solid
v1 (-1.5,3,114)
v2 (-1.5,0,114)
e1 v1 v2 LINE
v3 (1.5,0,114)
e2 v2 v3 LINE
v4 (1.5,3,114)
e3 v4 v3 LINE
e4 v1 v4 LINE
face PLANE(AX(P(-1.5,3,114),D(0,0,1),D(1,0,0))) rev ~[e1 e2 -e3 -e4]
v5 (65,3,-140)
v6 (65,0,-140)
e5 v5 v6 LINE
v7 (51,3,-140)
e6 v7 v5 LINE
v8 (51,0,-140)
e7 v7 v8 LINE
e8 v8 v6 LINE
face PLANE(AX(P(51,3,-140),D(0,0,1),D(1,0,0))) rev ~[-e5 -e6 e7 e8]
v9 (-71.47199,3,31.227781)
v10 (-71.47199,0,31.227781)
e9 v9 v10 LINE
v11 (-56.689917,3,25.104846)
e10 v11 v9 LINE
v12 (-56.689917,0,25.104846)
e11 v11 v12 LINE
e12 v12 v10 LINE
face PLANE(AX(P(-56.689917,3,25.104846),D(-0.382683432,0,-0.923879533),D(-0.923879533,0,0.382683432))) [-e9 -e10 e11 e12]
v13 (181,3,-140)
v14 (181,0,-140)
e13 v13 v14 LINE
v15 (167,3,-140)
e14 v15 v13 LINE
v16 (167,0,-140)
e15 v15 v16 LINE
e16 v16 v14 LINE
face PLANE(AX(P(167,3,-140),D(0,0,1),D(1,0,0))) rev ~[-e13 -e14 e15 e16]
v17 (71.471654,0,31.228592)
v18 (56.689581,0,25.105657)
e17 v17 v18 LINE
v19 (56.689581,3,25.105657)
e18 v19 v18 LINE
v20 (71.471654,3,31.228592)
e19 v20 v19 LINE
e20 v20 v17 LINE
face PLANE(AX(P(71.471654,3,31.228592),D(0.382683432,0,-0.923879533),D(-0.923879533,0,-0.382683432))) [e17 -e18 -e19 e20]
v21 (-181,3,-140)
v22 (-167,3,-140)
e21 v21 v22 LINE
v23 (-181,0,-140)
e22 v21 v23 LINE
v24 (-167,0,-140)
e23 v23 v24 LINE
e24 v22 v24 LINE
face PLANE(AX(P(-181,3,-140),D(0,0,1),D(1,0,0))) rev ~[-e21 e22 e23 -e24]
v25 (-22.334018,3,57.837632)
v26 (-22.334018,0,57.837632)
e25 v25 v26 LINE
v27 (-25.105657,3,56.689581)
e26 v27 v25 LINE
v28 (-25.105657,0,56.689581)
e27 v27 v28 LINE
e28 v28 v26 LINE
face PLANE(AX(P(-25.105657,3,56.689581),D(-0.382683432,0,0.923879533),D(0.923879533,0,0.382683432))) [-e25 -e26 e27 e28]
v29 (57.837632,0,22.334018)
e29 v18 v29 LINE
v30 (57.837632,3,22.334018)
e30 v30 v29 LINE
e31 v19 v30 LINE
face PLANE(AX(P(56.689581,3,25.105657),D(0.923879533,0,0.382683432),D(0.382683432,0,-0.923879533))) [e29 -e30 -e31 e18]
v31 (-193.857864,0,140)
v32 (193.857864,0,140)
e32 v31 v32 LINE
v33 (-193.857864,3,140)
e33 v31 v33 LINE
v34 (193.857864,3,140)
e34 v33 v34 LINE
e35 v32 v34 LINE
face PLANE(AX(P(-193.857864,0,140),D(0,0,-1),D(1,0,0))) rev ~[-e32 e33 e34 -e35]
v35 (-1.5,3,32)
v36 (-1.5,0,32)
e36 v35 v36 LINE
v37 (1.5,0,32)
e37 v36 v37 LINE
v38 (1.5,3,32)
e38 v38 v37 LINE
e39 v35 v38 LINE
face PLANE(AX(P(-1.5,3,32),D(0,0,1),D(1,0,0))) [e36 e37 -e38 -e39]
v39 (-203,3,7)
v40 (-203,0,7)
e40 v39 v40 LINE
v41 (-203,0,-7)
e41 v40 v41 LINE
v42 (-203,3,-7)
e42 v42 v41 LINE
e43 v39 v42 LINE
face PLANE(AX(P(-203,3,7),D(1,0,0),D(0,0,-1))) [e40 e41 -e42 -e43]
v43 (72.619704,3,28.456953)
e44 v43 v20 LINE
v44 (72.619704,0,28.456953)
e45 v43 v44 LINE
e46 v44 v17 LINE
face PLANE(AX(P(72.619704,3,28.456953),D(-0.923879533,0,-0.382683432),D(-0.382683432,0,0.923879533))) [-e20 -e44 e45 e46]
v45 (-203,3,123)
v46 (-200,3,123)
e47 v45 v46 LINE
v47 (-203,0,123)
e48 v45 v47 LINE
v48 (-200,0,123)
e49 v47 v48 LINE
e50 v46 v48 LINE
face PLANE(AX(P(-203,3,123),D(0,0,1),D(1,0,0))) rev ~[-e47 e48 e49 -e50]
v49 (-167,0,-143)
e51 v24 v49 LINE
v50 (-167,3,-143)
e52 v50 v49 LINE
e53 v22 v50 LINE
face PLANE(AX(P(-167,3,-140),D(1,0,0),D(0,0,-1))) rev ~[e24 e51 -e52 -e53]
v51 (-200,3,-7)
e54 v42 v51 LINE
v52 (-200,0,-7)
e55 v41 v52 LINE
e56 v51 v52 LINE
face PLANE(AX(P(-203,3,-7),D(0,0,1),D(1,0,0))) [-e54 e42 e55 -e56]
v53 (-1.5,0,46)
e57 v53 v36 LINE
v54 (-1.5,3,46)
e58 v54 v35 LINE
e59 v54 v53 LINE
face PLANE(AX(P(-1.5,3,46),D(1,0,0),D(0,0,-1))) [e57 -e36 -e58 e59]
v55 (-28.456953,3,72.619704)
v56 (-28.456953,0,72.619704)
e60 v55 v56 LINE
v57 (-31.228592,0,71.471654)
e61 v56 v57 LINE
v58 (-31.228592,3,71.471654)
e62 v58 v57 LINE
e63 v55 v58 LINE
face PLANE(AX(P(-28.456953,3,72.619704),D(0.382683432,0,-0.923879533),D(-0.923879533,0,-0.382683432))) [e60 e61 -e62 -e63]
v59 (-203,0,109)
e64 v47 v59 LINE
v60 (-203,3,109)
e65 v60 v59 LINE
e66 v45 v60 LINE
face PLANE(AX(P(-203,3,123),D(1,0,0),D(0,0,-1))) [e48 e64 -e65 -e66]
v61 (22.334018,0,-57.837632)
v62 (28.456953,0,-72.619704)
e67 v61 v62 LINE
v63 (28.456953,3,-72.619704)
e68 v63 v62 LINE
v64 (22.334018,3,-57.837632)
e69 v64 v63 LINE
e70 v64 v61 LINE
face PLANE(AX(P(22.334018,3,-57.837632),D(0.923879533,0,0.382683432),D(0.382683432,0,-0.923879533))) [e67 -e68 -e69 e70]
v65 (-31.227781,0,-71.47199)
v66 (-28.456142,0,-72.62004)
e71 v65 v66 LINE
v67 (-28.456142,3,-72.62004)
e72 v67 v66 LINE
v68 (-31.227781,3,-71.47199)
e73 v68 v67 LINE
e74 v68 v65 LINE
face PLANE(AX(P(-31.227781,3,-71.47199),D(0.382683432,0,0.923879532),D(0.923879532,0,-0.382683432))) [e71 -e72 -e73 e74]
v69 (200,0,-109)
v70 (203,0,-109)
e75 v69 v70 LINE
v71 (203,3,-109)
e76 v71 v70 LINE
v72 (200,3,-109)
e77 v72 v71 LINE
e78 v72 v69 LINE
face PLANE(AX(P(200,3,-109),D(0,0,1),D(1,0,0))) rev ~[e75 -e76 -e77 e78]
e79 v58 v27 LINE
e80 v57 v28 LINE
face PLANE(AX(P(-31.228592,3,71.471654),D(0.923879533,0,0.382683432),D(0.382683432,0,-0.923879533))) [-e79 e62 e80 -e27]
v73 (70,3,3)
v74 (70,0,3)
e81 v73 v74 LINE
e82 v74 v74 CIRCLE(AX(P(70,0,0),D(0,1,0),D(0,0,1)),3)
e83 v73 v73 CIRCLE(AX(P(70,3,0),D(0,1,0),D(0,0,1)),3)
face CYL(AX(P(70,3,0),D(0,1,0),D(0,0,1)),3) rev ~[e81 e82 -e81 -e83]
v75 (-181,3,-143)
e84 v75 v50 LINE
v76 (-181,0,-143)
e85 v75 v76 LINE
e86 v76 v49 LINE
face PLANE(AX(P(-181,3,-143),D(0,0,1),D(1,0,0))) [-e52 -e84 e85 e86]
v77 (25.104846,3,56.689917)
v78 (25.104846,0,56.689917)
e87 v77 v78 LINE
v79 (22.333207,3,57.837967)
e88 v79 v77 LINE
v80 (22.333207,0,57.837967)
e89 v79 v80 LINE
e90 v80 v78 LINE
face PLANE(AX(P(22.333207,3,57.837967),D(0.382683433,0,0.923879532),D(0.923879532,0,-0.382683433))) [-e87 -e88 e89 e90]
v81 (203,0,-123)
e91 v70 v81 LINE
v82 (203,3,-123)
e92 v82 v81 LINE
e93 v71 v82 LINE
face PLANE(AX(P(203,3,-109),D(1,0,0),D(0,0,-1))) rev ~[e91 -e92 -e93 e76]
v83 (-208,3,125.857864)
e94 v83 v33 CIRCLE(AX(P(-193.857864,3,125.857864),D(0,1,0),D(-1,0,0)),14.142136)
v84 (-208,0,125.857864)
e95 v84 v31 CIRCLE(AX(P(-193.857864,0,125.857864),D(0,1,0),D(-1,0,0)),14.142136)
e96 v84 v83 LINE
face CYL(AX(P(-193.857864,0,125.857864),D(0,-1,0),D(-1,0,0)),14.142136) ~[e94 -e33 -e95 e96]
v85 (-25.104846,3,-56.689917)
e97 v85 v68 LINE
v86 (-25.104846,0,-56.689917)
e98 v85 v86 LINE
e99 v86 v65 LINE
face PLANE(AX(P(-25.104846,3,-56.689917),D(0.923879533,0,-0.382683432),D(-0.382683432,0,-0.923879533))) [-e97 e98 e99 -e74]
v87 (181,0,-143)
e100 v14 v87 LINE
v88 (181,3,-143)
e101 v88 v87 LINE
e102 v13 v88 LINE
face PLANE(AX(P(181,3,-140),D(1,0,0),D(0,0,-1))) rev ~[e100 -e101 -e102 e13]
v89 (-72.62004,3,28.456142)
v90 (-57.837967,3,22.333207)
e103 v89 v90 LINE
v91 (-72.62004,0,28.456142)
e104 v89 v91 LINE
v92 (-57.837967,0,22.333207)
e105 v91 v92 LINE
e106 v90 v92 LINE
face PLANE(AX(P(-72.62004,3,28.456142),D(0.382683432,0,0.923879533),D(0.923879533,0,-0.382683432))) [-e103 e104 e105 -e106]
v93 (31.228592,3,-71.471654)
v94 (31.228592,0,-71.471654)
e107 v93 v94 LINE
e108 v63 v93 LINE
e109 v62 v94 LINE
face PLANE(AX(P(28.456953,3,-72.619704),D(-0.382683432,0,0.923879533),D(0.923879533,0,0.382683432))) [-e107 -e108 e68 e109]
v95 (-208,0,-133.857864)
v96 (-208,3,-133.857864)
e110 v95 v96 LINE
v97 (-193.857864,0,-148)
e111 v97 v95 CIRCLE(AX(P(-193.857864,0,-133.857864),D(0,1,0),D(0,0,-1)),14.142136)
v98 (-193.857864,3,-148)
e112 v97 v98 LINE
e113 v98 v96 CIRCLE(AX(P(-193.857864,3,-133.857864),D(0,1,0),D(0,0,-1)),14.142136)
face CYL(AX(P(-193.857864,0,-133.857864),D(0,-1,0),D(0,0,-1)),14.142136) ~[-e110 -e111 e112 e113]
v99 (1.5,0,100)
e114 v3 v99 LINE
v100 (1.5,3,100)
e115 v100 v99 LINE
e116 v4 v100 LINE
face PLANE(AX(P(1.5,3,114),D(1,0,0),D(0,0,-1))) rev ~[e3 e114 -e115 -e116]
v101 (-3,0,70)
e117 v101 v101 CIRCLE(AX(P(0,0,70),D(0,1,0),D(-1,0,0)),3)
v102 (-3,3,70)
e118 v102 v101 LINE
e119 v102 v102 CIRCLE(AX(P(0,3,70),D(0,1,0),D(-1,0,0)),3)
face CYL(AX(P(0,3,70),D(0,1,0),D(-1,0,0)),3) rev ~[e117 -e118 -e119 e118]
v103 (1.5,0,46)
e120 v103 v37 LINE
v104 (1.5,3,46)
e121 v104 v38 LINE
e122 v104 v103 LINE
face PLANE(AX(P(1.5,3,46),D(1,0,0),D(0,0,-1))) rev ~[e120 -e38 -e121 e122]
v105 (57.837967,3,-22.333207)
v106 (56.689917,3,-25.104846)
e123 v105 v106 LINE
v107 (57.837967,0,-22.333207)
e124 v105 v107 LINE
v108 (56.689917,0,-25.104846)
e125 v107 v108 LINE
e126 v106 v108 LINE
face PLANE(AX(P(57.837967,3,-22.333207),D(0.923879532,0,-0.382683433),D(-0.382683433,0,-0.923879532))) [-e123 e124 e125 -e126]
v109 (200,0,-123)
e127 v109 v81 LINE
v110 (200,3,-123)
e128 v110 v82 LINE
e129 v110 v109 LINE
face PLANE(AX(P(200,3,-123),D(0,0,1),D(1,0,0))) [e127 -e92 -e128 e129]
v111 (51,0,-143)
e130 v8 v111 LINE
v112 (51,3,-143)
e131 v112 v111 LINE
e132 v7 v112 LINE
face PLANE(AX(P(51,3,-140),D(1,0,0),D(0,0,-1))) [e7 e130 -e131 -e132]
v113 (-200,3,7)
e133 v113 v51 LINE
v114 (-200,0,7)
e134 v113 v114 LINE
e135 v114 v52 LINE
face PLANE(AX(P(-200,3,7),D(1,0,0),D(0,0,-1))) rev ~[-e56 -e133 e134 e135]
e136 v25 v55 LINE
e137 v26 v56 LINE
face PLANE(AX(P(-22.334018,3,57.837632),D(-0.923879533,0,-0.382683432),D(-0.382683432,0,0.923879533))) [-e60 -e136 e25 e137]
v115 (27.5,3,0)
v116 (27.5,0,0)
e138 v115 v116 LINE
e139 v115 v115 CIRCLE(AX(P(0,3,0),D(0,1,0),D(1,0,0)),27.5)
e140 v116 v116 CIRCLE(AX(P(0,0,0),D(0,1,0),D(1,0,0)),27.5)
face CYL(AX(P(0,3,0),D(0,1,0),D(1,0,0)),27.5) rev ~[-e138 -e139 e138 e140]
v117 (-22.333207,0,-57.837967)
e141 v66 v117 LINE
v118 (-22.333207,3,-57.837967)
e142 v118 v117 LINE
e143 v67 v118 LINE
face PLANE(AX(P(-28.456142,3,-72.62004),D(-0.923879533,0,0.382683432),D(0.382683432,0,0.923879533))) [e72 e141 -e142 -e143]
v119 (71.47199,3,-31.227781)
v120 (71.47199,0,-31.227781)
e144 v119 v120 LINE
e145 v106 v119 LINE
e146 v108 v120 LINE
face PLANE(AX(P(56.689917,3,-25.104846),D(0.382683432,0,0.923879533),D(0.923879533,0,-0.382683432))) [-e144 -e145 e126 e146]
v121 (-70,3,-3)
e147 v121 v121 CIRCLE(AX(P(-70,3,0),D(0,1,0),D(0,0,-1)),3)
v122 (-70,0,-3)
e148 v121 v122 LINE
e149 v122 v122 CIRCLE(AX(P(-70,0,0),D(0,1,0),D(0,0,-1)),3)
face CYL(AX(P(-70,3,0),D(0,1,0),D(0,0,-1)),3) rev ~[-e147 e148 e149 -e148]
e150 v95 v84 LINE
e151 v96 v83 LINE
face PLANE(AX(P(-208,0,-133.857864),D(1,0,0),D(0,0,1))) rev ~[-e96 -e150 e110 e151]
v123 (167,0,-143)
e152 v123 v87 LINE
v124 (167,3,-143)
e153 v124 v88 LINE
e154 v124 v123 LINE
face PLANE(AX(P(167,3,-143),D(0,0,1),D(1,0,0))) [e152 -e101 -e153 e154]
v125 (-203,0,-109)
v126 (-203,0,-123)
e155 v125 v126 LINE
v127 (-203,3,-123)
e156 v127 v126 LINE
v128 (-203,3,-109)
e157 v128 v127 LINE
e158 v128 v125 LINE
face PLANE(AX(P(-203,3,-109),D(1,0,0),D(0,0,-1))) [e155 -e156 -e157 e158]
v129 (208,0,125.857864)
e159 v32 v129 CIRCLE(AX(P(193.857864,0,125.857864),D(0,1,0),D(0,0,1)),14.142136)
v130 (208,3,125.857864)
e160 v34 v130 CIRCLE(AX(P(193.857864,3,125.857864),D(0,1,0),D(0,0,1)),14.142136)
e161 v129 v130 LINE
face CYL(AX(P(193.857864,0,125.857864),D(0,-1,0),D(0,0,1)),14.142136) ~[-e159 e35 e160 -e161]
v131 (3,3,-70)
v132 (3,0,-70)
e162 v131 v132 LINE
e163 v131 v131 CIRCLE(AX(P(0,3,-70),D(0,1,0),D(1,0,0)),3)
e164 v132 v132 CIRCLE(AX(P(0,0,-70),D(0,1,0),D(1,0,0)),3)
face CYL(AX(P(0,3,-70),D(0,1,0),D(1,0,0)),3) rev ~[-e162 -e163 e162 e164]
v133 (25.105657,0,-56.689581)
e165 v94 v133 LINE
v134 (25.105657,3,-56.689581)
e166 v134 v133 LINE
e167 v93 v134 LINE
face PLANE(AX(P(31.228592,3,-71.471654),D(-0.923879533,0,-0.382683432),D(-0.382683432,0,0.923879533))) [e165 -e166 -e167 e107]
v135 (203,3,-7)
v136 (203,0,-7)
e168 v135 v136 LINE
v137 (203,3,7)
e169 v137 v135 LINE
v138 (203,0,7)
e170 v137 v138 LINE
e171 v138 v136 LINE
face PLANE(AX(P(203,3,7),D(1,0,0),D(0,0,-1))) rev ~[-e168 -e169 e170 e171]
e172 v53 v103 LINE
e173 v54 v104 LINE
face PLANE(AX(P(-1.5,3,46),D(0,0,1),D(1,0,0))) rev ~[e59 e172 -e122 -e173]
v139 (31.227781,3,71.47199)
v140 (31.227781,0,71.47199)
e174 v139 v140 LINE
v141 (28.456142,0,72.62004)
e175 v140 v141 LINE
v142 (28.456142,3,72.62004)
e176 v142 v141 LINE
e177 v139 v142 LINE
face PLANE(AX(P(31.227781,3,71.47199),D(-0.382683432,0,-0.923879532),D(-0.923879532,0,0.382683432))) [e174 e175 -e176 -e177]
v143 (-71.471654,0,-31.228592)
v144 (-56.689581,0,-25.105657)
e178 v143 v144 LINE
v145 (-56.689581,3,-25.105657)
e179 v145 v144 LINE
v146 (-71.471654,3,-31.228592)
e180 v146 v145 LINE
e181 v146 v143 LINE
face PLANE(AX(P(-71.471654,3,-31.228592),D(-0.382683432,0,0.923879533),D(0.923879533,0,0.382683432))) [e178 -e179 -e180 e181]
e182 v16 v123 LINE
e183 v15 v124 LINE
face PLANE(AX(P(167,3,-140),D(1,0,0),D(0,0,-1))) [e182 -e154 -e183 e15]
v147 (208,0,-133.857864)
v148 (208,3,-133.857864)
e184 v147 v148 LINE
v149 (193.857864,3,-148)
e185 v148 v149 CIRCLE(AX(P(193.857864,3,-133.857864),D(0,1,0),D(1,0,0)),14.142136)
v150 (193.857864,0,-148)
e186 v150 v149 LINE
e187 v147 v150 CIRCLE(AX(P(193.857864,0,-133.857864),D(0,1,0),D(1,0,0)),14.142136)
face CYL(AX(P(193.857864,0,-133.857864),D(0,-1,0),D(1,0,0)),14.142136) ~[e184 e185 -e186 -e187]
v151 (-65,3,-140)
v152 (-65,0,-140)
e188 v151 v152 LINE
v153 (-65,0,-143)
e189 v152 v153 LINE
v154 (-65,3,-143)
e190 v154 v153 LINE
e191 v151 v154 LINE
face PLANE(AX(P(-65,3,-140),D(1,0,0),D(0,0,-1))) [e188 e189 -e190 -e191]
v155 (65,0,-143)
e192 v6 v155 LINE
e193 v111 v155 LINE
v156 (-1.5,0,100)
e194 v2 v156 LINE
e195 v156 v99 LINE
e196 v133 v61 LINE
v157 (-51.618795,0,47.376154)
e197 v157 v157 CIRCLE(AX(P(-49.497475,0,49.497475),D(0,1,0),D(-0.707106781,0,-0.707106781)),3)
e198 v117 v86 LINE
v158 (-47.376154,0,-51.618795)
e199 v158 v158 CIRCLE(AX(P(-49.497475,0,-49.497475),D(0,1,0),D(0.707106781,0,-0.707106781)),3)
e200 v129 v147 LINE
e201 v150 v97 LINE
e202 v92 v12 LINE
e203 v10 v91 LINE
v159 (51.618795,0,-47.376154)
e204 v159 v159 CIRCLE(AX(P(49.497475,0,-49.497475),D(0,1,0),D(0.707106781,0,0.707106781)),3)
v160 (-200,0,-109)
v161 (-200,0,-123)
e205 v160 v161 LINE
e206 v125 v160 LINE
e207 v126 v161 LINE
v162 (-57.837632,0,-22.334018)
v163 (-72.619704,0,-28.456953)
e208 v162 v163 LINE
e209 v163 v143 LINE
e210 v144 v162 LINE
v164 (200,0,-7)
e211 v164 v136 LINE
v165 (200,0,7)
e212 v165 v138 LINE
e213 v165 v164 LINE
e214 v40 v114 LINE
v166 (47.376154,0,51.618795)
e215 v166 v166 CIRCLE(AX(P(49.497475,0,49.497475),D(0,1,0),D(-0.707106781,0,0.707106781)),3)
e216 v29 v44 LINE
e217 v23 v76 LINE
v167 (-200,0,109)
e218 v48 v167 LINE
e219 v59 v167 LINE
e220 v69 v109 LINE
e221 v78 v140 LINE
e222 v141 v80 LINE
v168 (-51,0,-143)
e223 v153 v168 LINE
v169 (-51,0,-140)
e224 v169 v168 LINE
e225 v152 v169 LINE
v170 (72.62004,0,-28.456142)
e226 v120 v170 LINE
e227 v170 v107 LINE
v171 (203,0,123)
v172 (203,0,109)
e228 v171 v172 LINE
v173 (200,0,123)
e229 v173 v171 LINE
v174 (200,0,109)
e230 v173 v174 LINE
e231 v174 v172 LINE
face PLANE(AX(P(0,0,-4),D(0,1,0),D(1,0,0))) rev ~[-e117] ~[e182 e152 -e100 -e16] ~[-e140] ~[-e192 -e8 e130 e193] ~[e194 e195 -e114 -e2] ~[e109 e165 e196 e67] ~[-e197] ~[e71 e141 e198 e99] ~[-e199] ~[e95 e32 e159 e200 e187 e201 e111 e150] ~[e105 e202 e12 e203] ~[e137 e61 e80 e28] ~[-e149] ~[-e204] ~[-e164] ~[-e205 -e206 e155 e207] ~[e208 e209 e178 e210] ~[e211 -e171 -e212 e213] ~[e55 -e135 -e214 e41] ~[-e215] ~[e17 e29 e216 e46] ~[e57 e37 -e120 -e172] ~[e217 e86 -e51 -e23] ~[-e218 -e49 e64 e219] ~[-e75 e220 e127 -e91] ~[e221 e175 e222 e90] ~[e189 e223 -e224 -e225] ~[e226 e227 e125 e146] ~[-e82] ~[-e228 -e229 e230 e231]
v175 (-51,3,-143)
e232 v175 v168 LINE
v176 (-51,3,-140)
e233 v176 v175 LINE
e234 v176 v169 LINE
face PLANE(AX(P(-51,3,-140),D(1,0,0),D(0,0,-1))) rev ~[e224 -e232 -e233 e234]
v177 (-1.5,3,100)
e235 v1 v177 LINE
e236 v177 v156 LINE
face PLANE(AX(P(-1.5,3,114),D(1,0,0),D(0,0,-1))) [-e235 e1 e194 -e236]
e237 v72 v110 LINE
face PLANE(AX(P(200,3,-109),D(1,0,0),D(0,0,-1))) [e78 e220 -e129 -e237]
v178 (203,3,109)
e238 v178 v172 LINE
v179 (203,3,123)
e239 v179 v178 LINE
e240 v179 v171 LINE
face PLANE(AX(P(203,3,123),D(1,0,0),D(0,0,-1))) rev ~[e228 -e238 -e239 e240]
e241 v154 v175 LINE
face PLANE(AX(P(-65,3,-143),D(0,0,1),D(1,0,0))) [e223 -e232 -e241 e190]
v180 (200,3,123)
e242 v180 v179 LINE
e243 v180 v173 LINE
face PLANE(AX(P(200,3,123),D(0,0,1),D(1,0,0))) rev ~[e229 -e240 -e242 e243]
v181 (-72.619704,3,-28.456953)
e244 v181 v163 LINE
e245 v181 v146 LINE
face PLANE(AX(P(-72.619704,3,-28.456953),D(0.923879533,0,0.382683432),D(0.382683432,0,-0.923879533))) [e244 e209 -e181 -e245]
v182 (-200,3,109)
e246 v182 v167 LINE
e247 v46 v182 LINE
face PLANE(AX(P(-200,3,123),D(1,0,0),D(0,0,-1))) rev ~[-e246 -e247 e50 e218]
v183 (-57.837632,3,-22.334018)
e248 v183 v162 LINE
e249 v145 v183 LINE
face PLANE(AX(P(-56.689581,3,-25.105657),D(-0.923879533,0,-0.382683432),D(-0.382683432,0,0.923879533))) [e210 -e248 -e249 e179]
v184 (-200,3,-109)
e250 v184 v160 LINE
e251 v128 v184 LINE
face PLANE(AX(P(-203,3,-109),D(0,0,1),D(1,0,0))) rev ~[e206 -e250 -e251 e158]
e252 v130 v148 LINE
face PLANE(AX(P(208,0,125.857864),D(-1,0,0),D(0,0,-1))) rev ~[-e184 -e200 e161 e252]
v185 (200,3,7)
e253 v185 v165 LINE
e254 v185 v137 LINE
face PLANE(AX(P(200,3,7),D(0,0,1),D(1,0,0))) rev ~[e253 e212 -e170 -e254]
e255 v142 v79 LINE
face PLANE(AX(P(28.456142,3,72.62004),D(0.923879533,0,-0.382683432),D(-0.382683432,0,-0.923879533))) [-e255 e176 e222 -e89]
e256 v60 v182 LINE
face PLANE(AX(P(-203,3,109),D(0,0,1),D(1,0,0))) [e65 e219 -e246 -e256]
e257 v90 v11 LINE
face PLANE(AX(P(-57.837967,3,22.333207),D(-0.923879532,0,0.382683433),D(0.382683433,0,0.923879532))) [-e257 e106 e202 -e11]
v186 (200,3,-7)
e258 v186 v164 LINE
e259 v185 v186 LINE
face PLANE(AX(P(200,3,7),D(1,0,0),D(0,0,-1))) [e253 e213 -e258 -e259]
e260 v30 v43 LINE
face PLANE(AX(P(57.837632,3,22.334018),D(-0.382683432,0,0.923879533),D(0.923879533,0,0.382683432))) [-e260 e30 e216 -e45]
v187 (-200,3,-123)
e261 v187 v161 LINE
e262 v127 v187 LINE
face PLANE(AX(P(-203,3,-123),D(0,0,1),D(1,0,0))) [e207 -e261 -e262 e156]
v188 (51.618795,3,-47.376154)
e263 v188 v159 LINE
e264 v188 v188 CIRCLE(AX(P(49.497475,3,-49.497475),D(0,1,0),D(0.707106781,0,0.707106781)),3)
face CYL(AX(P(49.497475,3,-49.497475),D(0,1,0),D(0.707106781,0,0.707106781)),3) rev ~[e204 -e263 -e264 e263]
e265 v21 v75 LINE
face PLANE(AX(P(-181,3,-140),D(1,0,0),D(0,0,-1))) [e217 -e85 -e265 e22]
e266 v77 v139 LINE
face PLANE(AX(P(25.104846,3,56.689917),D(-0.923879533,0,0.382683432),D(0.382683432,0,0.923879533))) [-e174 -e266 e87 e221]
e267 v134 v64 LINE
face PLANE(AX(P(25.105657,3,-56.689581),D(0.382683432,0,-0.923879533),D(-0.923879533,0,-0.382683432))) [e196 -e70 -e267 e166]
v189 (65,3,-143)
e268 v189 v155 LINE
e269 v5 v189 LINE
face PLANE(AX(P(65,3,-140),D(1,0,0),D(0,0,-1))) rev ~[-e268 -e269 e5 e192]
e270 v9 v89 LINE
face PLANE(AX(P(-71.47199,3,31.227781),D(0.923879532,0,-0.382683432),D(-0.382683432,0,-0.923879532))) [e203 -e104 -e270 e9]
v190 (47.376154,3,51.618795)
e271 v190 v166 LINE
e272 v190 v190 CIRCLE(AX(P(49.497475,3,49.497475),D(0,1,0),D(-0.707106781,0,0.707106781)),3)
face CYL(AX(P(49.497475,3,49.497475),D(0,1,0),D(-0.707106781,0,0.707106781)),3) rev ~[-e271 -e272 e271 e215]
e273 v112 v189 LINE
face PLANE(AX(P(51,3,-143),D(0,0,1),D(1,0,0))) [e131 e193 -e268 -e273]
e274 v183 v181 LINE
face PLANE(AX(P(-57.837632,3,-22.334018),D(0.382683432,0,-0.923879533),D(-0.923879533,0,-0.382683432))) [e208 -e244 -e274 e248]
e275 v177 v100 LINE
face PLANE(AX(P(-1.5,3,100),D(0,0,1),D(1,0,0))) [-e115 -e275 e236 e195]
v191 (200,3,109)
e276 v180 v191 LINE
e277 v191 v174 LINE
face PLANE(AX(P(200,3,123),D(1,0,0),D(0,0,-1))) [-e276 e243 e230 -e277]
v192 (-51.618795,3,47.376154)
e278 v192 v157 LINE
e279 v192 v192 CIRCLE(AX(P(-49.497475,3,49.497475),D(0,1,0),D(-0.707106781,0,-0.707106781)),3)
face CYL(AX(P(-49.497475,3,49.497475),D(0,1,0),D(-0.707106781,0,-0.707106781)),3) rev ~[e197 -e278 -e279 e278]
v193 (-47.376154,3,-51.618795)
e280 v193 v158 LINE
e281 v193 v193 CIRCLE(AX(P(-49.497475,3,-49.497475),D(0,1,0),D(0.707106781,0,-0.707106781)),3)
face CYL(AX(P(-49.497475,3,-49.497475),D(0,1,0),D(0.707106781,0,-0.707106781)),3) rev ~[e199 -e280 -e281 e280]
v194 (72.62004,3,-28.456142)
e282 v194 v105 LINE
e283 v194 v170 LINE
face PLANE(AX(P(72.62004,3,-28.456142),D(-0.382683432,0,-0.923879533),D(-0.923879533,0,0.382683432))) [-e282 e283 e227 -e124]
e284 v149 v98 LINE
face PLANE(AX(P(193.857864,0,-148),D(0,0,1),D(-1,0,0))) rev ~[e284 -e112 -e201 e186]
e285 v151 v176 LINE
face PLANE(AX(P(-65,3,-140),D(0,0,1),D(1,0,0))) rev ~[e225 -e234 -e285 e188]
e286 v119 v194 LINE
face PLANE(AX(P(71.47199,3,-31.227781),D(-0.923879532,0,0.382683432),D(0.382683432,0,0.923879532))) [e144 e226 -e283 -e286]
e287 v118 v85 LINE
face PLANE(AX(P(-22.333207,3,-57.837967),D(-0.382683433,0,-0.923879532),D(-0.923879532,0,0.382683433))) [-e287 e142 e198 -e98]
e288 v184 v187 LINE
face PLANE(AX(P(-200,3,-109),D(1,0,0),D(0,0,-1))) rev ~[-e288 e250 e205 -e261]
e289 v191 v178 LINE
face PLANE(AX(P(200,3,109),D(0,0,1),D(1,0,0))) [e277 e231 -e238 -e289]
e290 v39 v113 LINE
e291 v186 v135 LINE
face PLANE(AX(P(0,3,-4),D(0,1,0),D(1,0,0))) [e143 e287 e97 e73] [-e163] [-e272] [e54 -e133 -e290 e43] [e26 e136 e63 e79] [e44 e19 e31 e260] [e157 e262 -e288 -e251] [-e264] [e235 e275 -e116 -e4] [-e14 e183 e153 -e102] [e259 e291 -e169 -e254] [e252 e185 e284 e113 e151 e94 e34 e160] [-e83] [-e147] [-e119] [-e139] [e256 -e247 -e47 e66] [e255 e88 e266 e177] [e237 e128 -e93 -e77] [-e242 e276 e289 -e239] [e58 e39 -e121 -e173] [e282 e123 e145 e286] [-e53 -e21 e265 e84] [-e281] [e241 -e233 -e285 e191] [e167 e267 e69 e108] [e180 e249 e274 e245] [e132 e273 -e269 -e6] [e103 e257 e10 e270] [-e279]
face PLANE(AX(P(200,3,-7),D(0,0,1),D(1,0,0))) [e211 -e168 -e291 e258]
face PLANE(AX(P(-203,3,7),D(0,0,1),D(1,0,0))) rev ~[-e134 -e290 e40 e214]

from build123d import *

# Parameters (mm, degrees)
BOSS_EXTRUDE1_DEPTH = 3
CUT_EXTRUDE1_DEPTH  = 3
SKETCH3_R           = 27.5
CUT_EXTRUDE2_DEPTH  = 3
CIRPATTERN1_COUNT   = 8
SKETCH5_R           = 3
CUT_EXTRUDE4_DEPTH  = 3
CIRPATTERN2_COUNT   = 8
SKETCH6_W           = 14
SKETCH6_H           = 3
CUT_EXTRUDE7_DEPTH  = 3
SKETCH8_W           = 3
SKETCH8_H           = 14
CUT_EXTRUDE8_DEPTH  = 3
SKETCH10_W          = 3
SKETCH10_H          = 14
CUT_EXTRUDE9_DEPTH  = 3


with BuildPart() as part:
    # Sketch1 → Boss-Extrude1 (new body)
    with BuildSketch(Plane(origin=(0, 0, 0), x_dir=(1, 0, 0), z_dir=(0, 1, 0))):
        with BuildLine():
            Line((-193.857864376, -140), (193.857864376, -140))
            ThreePointArc((193.857864376, -140), (203.857864376, -135.857864376), (208, -125.857864376))
            Line((208, -125.857864376), (208, 133.857864376))
            ThreePointArc((208, 133.857864376), (203.857864376, 143.857864376), (193.857864376, 148))
            Line((193.857864376, 148), (-193.857864376, 148))
            ThreePointArc((-193.857864376, 148), (-203.857864376, 143.857864376), (-208, 133.857864376))
            Line((-208, 133.857864376), (-208, -125.857864376))
            ThreePointArc((-208, -125.857864376), (-203.857864376, -135.857864376), (-193.857864376, -140))
        make_face()
    extrude(amount=BOSS_EXTRUDE1_DEPTH)

    # Sketch2 → Cut-Extrude1 (cut)
    with BuildSketch(Plane(origin=(0, 3, 0), x_dir=(1, 0, 0), z_dir=(0, 1, 0))):
        Polygon((-31.227780816, 71.471989723), (-28.456142219, 72.62004002), (-22.333207301, 57.8379675), (-25.104845898, 56.689917202), align=None)
    cut_extrude1 = extrude(amount=-CUT_EXTRUDE1_DEPTH, mode=Mode.SUBTRACT)

    # Sketch3 → Cut-Extrude2 (cut)
    with BuildSketch(Plane(origin=(0, 3, 0), x_dir=(1, 0, 0), z_dir=(0, 1, 0))):
        Circle(SKETCH3_R)
    extrude(amount=-CUT_EXTRUDE2_DEPTH, mode=Mode.SUBTRACT)

    # CirPattern1: Cut-Extrude1 ×8 about axis
    cirpattern1_axis = Axis((0, 0, 0), (0, 1, 0))
    for i in range(1, CIRPATTERN1_COUNT):
        add(cut_extrude1.rotate(cirpattern1_axis, i * 360 / CIRPATTERN1_COUNT), mode=Mode.SUBTRACT)

    # Sketch5 → Cut-Extrude4 (cut)
    with BuildSketch(Plane(origin=(0, 3, 0), x_dir=(1, 0, 0), z_dir=(0, 1, 0))):
        with Locations((0, 70)):
            Circle(SKETCH5_R)
    cut_extrude4 = extrude(amount=-CUT_EXTRUDE4_DEPTH, mode=Mode.SUBTRACT)

    # CirPattern2: Cut-Extrude4 ×8 about axis
    cirpattern2_axis = Axis((0, 0, 0), (0, 1, 0))
    for i in range(1, CIRPATTERN2_COUNT):
        add(cut_extrude4.rotate(cirpattern2_axis, i * 360 / CIRPATTERN2_COUNT), mode=Mode.SUBTRACT)

    # Sketch6 → Cut-Extrude7 (cut)
    with BuildSketch(Plane(origin=(0, 3, 0), x_dir=(1, 0, 0), z_dir=(0, 1, 0))):
        with Locations((174, 141.5)):
            Rectangle(SKETCH6_W, SKETCH6_H)
        with Locations((-174, 141.5)):
            Rectangle(SKETCH6_W, SKETCH6_H)
        with Locations((58, 141.5)):
            Rectangle(SKETCH6_W, SKETCH6_H)
        with Locations((-58, 141.5)):
            Rectangle(SKETCH6_W, SKETCH6_H)
    extrude(amount=-CUT_EXTRUDE7_DEPTH, mode=Mode.SUBTRACT)

    # Sketch8 → Cut-Extrude8 (cut)
    with BuildSketch(Plane(origin=(0, 3, 0), x_dir=(1, 0, 0), z_dir=(0, 1, 0))):
        with Locations((201.5, 116)):
            Rectangle(SKETCH8_W, SKETCH8_H)
        with Locations((-201.5, 116)):
            Rectangle(SKETCH8_W, SKETCH8_H)
        with Locations((201.5, 0)):
            Rectangle(SKETCH8_W, SKETCH8_H)
        with Locations((-201.5, 0)):
            Rectangle(SKETCH8_W, SKETCH8_H)
        with Locations((201.5, -116)):
            Rectangle(SKETCH8_W, SKETCH8_H)
        with Locations((-201.5, -116)):
            Rectangle(SKETCH8_W, SKETCH8_H)
    extrude(amount=-CUT_EXTRUDE8_DEPTH, mode=Mode.SUBTRACT)

    # Sketch10 → Cut-Extrude9 (cut)
    with BuildSketch(Plane(origin=(0, 3, 0), x_dir=(1, 0, 0), z_dir=(0, 1, 0))):
        with Locations((0, -39)):
            Rectangle(SKETCH10_W, SKETCH10_H)
        with Locations((0, -107)):
            Rectangle(SKETCH10_W, SKETCH10_H)
    extrude(amount=-CUT_EXTRUDE9_DEPTH, mode=Mode.SUBTRACT)


solid = part.part
